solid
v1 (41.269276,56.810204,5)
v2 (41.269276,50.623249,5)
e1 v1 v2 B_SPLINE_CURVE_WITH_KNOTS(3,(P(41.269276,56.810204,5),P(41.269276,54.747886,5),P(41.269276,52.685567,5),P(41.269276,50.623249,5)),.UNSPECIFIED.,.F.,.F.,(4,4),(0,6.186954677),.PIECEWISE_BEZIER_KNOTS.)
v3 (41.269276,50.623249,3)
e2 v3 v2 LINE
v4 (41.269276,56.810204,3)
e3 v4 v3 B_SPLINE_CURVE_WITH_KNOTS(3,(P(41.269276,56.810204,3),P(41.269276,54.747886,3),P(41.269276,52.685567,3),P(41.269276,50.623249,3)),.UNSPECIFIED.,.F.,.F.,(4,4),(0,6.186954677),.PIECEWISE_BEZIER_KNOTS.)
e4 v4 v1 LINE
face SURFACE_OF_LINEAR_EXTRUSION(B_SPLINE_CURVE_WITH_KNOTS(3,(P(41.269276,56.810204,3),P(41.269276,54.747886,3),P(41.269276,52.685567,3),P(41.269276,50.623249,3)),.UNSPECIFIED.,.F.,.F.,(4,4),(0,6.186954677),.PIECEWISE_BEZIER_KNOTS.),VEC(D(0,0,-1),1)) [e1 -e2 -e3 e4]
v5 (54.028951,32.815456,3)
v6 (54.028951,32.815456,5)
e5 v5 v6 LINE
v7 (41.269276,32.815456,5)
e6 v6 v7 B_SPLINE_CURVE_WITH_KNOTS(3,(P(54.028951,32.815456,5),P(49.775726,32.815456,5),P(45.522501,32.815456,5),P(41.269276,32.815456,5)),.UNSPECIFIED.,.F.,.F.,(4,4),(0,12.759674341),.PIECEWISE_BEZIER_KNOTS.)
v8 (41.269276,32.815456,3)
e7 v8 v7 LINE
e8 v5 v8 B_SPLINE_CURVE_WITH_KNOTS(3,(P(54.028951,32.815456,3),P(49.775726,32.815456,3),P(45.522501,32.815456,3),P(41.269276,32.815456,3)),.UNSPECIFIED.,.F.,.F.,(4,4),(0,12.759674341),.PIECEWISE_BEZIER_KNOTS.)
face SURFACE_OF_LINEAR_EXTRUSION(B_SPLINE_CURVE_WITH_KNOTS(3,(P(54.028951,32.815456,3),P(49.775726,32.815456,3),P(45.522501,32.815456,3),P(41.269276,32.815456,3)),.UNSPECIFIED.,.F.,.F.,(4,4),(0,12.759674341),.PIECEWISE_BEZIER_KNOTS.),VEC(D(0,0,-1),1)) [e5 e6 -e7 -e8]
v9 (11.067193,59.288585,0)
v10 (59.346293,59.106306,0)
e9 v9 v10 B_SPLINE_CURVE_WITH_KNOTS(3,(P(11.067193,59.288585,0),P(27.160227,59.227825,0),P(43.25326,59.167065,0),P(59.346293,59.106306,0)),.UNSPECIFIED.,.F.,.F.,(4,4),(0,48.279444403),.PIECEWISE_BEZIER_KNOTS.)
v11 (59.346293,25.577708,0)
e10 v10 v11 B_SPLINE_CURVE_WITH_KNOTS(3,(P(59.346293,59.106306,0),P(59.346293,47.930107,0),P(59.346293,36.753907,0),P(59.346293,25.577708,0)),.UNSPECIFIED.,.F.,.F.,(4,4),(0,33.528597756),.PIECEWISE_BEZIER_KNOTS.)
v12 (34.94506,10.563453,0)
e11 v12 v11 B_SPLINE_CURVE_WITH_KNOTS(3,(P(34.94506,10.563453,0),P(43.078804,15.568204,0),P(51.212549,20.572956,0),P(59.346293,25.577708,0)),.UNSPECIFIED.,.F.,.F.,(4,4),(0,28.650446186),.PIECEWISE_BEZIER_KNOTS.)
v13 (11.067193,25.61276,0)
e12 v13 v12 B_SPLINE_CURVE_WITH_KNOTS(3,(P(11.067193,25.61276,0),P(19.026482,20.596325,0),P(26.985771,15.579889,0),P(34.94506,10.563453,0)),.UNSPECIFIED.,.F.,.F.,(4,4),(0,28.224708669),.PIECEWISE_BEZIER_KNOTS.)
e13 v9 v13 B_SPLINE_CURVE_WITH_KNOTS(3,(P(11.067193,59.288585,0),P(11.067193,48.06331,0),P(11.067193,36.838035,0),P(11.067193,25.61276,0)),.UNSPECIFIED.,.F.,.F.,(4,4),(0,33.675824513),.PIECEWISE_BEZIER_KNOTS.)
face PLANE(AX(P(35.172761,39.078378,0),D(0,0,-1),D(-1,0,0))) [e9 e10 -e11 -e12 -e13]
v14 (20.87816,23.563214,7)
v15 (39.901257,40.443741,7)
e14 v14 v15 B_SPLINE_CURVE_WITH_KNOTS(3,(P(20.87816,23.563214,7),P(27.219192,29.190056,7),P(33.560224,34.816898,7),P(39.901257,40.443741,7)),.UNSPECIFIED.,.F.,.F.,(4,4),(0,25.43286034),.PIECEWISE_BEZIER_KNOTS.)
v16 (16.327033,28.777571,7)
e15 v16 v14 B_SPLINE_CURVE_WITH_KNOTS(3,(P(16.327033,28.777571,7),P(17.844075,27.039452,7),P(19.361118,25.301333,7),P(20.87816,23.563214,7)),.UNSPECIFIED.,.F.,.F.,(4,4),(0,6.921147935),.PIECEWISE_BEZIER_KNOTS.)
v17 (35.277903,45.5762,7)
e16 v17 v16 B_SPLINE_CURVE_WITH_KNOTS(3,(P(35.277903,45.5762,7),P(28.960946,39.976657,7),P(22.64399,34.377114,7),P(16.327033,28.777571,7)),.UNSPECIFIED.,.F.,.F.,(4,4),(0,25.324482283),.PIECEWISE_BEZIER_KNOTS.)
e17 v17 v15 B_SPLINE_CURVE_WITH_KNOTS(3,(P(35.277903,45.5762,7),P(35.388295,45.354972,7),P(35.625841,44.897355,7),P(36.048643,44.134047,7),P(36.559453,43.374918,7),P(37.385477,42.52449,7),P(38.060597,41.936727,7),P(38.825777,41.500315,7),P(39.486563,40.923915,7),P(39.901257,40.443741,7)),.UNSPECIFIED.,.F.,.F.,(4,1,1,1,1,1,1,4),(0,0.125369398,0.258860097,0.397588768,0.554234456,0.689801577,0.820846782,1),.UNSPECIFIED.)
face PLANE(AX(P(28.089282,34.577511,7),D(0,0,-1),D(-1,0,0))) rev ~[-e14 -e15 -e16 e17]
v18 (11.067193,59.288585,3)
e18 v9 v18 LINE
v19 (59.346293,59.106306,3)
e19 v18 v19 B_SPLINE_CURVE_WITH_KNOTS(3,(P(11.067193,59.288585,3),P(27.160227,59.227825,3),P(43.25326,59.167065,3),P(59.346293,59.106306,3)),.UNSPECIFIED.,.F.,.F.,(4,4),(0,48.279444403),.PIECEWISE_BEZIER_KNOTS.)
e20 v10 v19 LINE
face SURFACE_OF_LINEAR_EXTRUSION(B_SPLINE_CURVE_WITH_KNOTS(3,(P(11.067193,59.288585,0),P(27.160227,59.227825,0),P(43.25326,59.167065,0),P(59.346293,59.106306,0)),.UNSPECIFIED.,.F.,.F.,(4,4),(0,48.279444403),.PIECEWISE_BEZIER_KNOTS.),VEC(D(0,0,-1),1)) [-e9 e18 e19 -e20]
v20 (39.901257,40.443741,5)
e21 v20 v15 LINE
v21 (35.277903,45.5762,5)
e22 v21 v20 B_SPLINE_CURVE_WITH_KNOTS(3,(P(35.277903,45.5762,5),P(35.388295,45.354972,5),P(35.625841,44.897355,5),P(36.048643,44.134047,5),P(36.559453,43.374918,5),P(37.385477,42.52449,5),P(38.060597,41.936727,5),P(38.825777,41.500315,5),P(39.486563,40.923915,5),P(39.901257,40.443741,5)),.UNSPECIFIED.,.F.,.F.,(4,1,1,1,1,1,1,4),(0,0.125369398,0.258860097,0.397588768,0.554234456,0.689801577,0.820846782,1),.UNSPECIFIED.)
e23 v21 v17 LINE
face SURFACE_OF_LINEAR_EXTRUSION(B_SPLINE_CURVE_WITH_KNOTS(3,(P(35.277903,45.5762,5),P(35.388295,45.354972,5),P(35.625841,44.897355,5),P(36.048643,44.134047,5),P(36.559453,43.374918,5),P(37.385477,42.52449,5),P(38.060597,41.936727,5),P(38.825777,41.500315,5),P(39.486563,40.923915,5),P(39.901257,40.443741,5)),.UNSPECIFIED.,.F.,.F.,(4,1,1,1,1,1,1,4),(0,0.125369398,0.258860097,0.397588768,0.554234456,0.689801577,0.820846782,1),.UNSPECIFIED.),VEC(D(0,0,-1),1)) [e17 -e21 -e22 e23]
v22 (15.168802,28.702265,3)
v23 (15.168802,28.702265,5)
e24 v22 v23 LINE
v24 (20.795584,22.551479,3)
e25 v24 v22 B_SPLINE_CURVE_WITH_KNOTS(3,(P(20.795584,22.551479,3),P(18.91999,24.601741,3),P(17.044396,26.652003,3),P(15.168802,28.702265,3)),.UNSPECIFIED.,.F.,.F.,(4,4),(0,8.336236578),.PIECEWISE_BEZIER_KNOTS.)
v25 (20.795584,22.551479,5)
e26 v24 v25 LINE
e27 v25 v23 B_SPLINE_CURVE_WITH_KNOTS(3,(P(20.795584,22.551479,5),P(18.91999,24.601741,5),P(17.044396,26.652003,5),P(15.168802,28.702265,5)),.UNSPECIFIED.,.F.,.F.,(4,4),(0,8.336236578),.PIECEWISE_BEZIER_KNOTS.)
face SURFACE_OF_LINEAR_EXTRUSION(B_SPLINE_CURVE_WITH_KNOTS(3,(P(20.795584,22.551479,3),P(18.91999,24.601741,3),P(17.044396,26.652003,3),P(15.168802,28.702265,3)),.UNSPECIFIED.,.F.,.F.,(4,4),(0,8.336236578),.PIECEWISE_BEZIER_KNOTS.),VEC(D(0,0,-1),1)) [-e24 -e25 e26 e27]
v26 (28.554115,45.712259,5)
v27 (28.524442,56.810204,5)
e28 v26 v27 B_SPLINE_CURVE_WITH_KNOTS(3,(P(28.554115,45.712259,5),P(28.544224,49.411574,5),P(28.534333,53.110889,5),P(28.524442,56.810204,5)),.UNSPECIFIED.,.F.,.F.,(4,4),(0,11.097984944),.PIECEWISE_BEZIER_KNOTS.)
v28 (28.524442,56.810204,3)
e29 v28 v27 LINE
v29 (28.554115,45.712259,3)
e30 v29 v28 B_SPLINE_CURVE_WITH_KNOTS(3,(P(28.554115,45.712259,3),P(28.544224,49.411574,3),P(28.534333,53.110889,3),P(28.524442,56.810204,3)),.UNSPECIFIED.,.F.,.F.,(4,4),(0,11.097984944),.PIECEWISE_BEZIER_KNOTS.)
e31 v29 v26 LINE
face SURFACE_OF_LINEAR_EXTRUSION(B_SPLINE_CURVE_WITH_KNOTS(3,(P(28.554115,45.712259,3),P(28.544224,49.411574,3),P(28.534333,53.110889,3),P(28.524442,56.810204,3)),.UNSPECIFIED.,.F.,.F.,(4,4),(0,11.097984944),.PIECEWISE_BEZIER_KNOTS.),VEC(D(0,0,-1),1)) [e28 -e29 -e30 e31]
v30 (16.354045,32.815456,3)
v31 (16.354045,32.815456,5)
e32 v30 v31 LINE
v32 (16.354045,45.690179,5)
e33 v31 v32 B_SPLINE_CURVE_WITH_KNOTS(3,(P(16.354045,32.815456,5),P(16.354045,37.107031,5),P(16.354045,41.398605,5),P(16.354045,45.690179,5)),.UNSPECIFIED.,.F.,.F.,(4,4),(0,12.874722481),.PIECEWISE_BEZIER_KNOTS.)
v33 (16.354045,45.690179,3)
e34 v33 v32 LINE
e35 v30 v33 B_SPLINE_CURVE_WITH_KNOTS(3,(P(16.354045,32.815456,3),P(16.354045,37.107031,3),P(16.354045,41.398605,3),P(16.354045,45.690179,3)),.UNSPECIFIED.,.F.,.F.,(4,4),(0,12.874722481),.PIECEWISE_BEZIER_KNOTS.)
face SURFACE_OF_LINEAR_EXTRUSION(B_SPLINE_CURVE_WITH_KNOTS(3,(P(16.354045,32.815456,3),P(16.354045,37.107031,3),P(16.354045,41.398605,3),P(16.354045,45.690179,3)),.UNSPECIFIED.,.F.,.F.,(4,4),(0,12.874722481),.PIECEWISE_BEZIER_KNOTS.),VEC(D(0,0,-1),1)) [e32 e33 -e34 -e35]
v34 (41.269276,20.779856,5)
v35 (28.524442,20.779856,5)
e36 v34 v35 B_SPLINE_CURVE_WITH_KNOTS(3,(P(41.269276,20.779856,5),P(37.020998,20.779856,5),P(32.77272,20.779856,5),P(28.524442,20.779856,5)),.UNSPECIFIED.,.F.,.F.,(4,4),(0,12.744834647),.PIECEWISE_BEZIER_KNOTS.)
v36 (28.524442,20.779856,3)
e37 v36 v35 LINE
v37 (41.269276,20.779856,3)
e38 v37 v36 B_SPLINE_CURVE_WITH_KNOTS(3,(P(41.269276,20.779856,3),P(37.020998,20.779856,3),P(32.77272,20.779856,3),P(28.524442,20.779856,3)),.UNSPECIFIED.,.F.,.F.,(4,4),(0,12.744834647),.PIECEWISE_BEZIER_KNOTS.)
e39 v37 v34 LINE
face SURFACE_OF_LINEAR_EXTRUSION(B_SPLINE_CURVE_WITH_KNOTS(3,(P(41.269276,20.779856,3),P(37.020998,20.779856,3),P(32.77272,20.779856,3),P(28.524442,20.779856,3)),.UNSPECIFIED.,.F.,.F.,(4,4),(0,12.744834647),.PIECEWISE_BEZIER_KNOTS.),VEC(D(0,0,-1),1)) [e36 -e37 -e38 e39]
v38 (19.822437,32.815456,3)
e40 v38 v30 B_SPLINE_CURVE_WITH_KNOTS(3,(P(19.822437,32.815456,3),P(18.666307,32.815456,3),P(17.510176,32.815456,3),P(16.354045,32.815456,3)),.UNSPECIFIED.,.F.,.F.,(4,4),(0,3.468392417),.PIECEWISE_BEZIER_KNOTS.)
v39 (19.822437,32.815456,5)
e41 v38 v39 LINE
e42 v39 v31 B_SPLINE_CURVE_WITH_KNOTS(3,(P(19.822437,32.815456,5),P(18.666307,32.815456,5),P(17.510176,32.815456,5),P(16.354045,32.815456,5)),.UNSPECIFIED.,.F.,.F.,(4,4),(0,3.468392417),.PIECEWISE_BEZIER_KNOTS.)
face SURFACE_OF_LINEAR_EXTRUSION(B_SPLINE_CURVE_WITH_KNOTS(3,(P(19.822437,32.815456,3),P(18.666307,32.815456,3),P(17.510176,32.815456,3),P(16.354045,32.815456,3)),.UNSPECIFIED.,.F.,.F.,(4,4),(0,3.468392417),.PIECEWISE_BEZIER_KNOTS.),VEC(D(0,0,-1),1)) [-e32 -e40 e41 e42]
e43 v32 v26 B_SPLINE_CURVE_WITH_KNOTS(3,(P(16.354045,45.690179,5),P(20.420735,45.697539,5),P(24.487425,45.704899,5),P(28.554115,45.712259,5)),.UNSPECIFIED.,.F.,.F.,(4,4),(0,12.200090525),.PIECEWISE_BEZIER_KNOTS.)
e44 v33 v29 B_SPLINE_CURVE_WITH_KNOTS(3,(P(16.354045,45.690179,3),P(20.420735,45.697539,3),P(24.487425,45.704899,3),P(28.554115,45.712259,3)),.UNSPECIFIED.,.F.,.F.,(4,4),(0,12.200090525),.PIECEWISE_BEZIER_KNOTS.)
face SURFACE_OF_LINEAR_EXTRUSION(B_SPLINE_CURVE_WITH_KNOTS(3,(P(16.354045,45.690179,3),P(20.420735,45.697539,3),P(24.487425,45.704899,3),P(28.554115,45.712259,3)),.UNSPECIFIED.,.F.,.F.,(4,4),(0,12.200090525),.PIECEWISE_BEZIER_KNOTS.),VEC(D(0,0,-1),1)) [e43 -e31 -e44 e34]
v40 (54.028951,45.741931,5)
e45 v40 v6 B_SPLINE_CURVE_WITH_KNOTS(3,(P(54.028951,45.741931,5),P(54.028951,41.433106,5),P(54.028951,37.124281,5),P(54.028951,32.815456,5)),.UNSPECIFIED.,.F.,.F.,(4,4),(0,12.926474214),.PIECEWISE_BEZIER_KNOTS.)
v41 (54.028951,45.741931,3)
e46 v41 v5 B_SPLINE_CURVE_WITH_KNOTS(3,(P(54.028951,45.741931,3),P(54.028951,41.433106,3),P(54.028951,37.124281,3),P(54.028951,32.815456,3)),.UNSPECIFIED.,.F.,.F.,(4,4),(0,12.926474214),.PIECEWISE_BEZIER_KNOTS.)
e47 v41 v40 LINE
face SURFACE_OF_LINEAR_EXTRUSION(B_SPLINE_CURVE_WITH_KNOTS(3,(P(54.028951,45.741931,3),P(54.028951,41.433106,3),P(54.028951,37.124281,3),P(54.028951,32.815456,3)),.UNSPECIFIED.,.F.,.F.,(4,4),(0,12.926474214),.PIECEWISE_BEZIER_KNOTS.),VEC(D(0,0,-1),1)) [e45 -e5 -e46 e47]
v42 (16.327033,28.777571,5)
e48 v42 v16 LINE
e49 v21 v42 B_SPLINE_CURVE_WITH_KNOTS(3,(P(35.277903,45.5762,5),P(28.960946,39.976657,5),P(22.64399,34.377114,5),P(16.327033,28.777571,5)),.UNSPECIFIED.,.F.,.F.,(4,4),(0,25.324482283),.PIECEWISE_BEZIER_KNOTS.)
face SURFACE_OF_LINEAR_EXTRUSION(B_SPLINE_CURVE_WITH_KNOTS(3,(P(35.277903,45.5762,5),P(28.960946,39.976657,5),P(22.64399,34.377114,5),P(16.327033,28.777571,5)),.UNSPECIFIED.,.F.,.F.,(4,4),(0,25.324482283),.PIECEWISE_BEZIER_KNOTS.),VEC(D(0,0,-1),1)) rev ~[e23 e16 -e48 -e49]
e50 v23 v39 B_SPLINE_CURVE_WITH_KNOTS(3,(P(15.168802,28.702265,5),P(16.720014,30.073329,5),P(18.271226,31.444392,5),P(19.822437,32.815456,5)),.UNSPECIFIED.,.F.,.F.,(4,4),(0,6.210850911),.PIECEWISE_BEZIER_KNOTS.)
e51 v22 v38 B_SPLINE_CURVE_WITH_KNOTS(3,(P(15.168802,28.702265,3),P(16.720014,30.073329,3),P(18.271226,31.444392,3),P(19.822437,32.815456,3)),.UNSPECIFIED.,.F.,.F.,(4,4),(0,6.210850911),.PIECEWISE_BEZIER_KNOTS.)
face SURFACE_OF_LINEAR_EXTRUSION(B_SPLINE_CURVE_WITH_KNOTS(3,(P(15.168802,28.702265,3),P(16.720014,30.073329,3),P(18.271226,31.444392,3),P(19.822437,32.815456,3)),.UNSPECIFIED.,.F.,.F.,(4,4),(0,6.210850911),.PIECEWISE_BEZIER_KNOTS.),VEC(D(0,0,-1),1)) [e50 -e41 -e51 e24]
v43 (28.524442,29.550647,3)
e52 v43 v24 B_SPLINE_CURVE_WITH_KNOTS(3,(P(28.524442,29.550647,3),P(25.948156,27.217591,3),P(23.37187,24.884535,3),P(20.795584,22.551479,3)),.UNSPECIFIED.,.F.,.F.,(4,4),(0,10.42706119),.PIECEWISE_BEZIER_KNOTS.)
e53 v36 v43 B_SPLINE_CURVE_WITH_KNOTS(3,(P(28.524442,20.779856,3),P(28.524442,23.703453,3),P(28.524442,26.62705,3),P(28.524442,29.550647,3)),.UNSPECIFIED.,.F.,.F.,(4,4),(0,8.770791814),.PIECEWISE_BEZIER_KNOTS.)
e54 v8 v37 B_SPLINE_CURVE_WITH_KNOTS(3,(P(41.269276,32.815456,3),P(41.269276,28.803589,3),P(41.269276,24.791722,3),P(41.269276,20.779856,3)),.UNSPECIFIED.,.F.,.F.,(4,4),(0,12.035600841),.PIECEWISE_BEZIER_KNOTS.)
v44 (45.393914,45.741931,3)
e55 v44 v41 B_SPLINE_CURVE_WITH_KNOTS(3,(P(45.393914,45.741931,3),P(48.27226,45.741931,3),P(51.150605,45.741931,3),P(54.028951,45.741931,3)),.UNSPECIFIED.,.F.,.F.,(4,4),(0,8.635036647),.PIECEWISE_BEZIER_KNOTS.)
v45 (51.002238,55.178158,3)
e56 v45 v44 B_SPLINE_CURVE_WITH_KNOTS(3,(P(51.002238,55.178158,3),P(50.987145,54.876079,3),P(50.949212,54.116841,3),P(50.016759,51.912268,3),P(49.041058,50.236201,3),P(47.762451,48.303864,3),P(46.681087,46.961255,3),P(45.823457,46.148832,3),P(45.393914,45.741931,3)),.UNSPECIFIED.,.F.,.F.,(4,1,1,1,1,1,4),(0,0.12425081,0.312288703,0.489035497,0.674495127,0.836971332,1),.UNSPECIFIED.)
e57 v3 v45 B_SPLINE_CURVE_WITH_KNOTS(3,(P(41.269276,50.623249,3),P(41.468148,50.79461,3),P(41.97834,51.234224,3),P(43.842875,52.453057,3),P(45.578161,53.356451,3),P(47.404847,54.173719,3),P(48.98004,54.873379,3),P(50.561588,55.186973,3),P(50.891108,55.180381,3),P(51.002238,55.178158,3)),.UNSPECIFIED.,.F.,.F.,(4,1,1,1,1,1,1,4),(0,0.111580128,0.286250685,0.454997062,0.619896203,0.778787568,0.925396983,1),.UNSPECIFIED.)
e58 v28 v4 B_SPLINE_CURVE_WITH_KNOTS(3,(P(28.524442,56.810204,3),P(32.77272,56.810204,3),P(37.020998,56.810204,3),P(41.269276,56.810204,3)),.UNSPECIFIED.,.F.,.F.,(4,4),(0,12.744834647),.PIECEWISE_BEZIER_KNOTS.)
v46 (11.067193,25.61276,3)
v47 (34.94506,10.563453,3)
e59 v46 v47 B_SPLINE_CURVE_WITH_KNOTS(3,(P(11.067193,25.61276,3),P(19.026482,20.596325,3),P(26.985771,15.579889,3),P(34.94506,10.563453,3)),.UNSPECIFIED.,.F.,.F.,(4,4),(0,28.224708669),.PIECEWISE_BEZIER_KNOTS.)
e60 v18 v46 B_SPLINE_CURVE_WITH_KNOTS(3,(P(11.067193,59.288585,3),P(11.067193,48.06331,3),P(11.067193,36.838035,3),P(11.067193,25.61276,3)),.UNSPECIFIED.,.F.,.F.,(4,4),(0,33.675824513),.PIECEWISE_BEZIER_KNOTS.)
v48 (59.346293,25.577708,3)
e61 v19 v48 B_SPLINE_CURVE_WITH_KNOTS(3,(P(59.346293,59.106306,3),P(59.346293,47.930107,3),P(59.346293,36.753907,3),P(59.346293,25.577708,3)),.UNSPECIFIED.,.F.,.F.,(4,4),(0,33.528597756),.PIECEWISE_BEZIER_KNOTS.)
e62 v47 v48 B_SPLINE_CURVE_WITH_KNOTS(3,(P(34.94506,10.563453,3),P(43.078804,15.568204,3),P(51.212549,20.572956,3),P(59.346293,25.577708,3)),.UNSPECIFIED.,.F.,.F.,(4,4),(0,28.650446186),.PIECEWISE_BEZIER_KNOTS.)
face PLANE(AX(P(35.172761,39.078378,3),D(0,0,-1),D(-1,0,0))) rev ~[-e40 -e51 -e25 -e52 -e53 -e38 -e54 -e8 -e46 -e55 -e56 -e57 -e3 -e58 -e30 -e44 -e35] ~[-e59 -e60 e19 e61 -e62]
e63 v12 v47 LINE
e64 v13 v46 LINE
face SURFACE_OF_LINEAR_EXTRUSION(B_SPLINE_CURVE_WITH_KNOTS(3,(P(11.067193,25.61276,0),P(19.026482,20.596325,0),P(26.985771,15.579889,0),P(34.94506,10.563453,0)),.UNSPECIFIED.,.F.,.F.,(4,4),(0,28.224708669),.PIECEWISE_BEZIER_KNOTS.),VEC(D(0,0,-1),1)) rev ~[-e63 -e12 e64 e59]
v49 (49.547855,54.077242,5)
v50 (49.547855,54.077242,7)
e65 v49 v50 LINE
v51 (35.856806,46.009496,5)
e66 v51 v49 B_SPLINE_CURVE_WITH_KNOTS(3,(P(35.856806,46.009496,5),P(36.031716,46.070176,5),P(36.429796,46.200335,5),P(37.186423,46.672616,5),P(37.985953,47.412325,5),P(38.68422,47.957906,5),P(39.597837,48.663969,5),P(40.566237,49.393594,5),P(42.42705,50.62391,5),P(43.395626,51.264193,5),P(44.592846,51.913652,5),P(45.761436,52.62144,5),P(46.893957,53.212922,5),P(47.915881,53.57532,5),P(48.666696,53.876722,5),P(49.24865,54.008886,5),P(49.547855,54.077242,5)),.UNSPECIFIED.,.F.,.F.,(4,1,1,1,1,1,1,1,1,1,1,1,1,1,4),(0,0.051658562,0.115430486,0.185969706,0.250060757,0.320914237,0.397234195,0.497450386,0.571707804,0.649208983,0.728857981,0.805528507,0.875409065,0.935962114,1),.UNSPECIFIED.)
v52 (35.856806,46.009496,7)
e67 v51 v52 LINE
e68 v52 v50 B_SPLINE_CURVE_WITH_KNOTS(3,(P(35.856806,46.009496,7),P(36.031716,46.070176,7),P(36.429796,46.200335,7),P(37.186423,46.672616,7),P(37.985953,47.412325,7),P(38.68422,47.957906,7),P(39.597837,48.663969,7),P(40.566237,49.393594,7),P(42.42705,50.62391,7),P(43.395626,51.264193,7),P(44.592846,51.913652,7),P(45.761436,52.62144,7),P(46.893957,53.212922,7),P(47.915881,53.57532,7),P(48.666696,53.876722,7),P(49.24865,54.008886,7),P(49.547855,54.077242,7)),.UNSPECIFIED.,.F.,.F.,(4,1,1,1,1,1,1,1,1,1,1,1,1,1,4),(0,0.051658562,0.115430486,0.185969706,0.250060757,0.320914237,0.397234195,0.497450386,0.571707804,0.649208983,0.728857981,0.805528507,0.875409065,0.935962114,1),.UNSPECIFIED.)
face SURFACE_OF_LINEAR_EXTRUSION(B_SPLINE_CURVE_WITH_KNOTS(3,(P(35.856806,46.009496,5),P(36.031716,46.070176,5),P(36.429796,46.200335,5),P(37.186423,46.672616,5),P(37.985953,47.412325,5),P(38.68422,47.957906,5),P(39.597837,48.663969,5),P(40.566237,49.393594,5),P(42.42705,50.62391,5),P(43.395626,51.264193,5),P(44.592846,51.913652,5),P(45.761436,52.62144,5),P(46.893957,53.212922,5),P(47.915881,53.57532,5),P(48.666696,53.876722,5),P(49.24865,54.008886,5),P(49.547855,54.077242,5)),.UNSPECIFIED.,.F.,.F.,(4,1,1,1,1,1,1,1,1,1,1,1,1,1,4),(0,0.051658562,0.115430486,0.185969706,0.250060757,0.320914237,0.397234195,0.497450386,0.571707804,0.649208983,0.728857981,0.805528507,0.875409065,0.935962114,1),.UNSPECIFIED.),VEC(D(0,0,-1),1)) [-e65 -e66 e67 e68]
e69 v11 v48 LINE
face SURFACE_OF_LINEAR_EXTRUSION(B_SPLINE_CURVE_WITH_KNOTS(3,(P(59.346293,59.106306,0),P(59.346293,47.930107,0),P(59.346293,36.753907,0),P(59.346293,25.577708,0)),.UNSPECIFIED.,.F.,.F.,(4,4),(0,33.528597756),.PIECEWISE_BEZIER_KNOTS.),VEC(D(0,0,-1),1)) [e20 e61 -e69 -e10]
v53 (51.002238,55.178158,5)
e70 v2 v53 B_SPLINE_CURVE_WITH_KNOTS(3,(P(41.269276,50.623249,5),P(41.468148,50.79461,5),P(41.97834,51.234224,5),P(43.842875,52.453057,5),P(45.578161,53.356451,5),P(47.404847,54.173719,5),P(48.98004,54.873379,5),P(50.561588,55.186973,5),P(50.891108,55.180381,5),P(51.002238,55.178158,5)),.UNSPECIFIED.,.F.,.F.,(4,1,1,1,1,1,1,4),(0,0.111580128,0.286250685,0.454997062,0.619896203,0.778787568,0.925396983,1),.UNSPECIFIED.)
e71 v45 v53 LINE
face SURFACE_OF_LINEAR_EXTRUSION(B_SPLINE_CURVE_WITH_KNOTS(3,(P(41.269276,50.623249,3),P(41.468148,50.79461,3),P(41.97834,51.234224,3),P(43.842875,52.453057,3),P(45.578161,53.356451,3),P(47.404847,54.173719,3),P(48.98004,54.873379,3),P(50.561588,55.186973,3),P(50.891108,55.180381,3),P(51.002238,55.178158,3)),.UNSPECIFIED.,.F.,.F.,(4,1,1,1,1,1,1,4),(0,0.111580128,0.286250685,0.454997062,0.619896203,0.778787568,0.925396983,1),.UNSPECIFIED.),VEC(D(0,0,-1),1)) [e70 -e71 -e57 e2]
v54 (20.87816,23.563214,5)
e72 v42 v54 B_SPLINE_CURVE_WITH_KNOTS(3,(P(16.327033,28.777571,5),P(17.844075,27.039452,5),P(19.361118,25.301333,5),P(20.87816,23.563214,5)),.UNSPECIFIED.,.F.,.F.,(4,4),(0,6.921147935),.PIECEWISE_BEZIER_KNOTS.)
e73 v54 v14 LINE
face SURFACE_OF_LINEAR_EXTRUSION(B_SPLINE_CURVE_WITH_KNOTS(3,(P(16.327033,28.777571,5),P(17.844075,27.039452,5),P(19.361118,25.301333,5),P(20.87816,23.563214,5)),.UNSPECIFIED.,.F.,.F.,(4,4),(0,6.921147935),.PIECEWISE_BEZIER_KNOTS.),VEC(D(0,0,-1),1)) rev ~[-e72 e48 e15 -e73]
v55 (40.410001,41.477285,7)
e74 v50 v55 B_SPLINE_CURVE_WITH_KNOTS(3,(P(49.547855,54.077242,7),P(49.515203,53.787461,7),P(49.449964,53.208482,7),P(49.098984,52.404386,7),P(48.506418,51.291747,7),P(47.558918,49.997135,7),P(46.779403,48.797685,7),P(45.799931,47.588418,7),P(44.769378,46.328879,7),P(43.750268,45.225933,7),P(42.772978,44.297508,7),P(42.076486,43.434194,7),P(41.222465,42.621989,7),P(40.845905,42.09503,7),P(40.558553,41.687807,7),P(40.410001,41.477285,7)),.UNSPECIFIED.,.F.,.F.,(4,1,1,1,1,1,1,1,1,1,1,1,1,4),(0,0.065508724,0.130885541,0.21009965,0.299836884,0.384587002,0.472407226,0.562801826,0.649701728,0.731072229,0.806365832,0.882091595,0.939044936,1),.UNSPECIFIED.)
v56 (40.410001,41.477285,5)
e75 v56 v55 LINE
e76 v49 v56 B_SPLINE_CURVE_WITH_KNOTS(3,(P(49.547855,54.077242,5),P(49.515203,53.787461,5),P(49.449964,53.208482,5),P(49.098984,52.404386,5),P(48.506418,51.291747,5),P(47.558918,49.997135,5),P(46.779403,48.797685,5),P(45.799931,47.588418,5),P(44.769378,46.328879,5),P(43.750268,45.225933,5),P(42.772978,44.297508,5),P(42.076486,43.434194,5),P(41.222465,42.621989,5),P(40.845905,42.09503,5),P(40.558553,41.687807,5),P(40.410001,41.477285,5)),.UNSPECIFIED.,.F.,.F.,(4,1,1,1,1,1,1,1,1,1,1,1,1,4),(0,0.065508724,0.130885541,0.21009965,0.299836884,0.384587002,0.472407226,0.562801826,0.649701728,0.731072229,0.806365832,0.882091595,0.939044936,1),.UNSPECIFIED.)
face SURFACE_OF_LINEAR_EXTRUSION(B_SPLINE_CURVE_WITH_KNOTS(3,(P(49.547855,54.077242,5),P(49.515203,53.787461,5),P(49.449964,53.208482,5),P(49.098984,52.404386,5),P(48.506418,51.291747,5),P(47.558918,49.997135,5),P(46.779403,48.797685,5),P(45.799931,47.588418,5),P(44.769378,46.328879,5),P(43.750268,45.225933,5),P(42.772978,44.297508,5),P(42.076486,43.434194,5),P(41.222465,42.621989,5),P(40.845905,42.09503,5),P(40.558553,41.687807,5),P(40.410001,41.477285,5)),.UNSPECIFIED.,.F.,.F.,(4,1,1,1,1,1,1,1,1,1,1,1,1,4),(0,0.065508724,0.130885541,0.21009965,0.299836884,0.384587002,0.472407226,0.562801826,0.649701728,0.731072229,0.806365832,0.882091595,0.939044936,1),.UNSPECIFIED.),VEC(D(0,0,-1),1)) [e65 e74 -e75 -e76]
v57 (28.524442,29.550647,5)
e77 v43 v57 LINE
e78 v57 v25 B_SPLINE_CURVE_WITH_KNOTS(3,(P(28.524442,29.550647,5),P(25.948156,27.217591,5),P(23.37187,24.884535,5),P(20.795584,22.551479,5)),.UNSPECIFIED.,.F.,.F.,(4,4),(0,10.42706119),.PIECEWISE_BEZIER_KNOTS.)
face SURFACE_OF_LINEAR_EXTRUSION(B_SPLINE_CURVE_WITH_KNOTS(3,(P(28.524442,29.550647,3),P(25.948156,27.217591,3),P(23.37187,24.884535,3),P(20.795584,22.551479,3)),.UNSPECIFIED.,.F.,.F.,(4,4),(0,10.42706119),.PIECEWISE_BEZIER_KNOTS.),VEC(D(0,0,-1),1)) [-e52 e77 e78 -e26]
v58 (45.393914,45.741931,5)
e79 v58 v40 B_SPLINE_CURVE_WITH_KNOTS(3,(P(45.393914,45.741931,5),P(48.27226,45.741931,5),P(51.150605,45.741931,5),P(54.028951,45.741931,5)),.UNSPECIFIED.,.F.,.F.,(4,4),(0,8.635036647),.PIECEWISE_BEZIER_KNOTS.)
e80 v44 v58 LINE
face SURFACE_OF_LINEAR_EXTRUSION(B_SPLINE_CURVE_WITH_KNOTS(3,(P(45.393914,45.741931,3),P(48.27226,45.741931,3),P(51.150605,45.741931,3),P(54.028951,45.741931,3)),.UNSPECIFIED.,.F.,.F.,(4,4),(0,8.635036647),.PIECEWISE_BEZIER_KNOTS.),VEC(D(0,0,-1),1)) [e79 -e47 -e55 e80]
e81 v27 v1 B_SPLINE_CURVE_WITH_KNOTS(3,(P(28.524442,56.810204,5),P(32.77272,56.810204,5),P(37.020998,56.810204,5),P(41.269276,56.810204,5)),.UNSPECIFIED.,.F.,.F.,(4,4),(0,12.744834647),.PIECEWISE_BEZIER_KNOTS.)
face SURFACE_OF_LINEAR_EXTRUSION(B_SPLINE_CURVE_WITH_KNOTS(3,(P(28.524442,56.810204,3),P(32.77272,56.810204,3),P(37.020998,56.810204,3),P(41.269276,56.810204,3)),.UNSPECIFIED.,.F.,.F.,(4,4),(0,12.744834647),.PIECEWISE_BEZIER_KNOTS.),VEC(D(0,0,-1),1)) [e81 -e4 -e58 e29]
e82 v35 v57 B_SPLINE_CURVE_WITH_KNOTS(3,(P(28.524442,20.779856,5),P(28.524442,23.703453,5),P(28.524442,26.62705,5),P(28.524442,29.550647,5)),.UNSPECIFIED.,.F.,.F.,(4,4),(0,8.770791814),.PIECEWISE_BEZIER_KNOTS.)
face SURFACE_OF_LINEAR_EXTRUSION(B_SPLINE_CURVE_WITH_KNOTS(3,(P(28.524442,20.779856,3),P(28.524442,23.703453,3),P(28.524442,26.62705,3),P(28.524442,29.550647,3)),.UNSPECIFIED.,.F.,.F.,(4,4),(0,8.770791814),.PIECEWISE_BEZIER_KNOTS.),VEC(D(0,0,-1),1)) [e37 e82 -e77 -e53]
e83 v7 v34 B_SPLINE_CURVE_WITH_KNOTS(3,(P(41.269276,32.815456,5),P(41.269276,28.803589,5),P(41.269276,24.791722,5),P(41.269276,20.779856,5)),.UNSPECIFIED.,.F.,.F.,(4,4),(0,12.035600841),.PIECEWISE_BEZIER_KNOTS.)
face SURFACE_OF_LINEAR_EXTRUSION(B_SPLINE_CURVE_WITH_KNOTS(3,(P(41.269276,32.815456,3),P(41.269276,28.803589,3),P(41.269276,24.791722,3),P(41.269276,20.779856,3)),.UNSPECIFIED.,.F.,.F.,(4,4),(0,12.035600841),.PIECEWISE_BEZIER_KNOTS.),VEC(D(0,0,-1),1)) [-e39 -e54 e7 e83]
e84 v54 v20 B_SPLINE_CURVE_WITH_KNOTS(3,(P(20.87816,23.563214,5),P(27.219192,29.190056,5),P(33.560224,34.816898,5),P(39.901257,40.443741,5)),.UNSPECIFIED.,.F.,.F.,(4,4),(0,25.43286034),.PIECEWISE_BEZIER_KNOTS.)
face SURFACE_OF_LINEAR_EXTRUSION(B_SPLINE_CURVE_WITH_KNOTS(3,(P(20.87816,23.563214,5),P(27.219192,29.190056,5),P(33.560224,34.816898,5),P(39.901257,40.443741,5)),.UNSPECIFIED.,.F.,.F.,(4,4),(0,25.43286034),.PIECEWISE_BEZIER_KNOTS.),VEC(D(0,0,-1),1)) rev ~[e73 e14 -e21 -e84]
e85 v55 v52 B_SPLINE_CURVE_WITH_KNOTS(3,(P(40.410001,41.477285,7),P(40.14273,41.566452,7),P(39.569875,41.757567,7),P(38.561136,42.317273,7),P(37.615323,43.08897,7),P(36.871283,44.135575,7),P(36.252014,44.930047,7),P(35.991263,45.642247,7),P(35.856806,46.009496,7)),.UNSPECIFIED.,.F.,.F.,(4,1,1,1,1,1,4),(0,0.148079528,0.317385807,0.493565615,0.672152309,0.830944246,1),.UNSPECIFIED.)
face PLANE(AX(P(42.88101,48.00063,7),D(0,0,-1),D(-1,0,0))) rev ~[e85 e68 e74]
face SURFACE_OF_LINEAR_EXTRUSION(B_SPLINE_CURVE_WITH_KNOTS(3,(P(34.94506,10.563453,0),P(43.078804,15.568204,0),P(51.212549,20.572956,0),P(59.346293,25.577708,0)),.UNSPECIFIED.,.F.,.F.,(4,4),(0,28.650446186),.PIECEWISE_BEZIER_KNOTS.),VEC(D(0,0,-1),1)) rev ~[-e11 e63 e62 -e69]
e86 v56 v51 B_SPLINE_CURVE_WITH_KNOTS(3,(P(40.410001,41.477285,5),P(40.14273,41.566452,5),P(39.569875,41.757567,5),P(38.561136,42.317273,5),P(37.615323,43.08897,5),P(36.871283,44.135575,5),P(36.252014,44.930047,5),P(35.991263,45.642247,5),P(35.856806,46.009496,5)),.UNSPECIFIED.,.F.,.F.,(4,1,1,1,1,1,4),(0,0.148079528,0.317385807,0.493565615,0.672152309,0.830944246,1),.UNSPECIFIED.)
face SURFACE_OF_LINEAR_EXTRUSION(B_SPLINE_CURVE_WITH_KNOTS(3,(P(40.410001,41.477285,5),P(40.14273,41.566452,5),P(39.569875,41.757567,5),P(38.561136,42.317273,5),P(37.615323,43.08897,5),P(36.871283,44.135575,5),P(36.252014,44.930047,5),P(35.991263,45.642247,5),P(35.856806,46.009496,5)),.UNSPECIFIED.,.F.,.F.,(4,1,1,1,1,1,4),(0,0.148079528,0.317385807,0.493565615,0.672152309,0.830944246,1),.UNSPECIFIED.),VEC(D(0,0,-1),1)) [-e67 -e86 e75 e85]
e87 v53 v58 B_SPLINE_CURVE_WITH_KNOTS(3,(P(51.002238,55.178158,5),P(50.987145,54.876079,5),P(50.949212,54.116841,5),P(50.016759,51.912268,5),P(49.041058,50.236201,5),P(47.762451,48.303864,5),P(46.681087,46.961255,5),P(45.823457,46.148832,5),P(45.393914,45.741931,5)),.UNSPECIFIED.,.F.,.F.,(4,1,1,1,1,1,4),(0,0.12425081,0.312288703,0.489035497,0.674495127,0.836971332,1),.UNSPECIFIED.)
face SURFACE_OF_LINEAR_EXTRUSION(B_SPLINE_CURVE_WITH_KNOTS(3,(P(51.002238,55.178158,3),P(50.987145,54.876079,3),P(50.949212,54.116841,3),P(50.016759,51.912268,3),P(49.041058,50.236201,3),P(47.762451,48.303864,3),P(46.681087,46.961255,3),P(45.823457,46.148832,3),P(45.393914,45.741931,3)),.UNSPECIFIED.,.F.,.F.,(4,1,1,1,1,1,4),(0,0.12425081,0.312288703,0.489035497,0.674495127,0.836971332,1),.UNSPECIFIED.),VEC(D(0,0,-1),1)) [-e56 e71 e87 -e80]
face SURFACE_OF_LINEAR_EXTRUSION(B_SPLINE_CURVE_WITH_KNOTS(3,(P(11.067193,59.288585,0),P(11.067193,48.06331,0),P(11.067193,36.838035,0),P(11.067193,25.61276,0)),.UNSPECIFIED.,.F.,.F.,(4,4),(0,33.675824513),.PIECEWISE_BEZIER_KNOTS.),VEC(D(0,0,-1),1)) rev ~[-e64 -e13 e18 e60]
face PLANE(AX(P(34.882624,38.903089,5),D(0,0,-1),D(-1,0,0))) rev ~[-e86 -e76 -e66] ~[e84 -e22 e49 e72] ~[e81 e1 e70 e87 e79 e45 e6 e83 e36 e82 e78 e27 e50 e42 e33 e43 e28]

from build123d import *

# Parameters (mm, degrees)
F1_DEPTH = 3
F3_DEPTH = 2
F5_DEPTH = 2


with BuildPart() as f1:
    # F0 (on Top) → F1 (new body)
    with BuildSketch(Plane.XY):
        with BuildLine():
            add(Edge.make_bspline(
                [(11.0671931449, 59.2885849332), (27.1602265797, 59.2278252135), (43.2532600144, 59.1670654938), (59.3462934492, 59.106305774)],
                knots=[0, 0, 0, 0, 48.2794444032, 48.2794444032, 48.2794444032, 48.2794444032], degree=3))
            add(Edge.make_bspline(
                [(11.0671931449, 59.2885849332), (11.0671931449, 48.0633100955), (11.0671931449, 36.8380352577), (11.0671931449, 25.61276042)],
                knots=[0, 0, 0, 0, 33.6758245133, 33.6758245133, 33.6758245133, 33.6758245133], degree=3))
            add(Edge.make_bspline(
                [(11.0671931449, 25.61276042), (19.0264820309, 20.5963245083), (26.9857709169, 15.5798885967), (34.9450598029, 10.563452685)],
                knots=[0, 0, 0, 0, 28.2247086688, 28.2247086688, 28.2247086688, 28.2247086688], degree=3))
            add(Edge.make_bspline(
                [(34.9450598029, 10.563452685), (43.0788043517, 15.5682044628), (51.2125489004, 20.5729562405), (59.3462934492, 25.5777080183)],
                knots=[0, 0, 0, 0, 28.6504461864, 28.6504461864, 28.6504461864, 28.6504461864], degree=3))
            add(Edge.make_bspline(
                [(59.3462934492, 59.106305774), (59.3462934492, 47.9301065221), (59.3462934492, 36.7539072702), (59.3462934492, 25.5777080183)],
                knots=[0, 0, 0, 0, 33.5285977557, 33.5285977557, 33.5285977557, 33.5285977557], degree=3))
        make_face()
    extrude(amount=F1_DEPTH)

    # F2 (on face) → F3 (join)
    with BuildSketch(Plane.XY.offset(3)):
        with BuildLine():
            add(Edge.make_bspline(
                [(28.5541154444, 45.7122586668), (28.5442241778, 49.4115737577), (28.5343329112, 53.1108888487), (28.5244416445, 56.8102039397)],
                knots=[0, 0, 0, 0, 11.0979849439, 11.0979849439, 11.0979849439, 11.0979849439], degree=3))
            add(Edge.make_bspline(
                [(16.3540448993, 45.6901788712), (20.420735081, 45.697538803), (24.4874252627, 45.7048987349), (28.5541154444, 45.7122586668)],
                knots=[0, 0, 0, 0, 12.2000905252, 12.2000905252, 12.2000905252, 12.2000905252], degree=3))
            add(Edge.make_bspline(
                [(16.3540448993, 32.8154563904), (16.3540448993, 37.1070305506), (16.3540448993, 41.3986047109), (16.3540448993, 45.6901788712)],
                knots=[0, 0, 0, 0, 12.8747224808, 12.8747224808, 12.8747224808, 12.8747224808], degree=3))
            add(Edge.make_bspline(
                [(19.8224373162, 32.8154563904), (18.6663065106, 32.8154563904), (17.510175705, 32.8154563904), (16.3540448993, 32.8154563904)],
                knots=[0, 0, 0, 0, 3.4683924168, 3.4683924168, 3.4683924168, 3.4683924168], degree=3))
            add(Edge.make_bspline(
                [(15.1688018814, 28.7022646517), (16.720013693, 30.0733285646), (18.2712255046, 31.4443924775), (19.8224373162, 32.8154563904)],
                knots=[0, 0, 0, 0, 6.2108509111, 6.2108509111, 6.2108509111, 6.2108509111], degree=3))
            add(Edge.make_bspline(
                [(20.795583725, 22.5514788181), (18.9199897771, 24.6017407626), (17.0443958292, 26.6520027071), (15.1688018814, 28.7022646517)],
                knots=[0, 0, 0, 0, 8.3362365781, 8.3362365781, 8.3362365781, 8.3362365781], degree=3))
            add(Edge.make_bspline(
                [(28.5244416445, 29.5506473631), (25.9481556714, 27.2175911814), (23.3718696982, 24.8845349997), (20.795583725, 22.5514788181)],
                knots=[0, 0, 0, 0, 10.4270611901, 10.4270611901, 10.4270611901, 10.4270611901], degree=3))
            add(Edge.make_bspline(
                [(28.5244416445, 20.7798555493), (28.5244416445, 23.7034528206), (28.5244416445, 26.6270500918), (28.5244416445, 29.5506473631)],
                knots=[0, 0, 0, 0, 8.7707918137, 8.7707918137, 8.7707918137, 8.7707918137], degree=3))
            add(Edge.make_bspline(
                [(41.2692762911, 20.7798555493), (37.0209980756, 20.7798555493), (32.7727198601, 20.7798555493), (28.5244416445, 20.7798555493)],
                knots=[0, 0, 0, 0, 12.7448346466, 12.7448346466, 12.7448346466, 12.7448346466], degree=3))
            add(Edge.make_bspline(
                [(41.2692762911, 32.8154563904), (41.2692762911, 28.8035894434), (41.2692762911, 24.7917224964), (41.2692762911, 20.7798555493)],
                knots=[0, 0, 0, 0, 12.035600841, 12.035600841, 12.035600841, 12.035600841], degree=3))
            add(Edge.make_bspline(
                [(54.0289506316, 32.8154563904), (49.7757258515, 32.8154563904), (45.5225010713, 32.8154563904), (41.2692762911, 32.8154563904)],
                knots=[0, 0, 0, 0, 12.7596743405, 12.7596743405, 12.7596743405, 12.7596743405], degree=3))
            add(Edge.make_bspline(
                [(54.0289506316, 45.741930604), (54.0289506316, 41.4331058661), (54.0289506316, 37.1242811282), (54.0289506316, 32.8154563904)],
                knots=[0, 0, 0, 0, 12.9264742136, 12.9264742136, 12.9264742136, 12.9264742136], degree=3))
            add(Edge.make_bspline(
                [(45.3939139843, 45.741930604), (48.2722595334, 45.741930604), (51.1506050825, 45.741930604), (54.0289506316, 45.741930604)],
                knots=[0, 0, 0, 0, 8.6350366473, 8.6350366473, 8.6350366473, 8.6350366473], degree=3))
            add(Edge.make_bspline(
                [(51.0022379458, 55.1781579852), (50.9871454202, 54.8760789501), (50.9492122653, 54.1168414871), (50.0167587141, 51.9122681359), (49.0410576538, 50.2362012588), (47.7624509616, 48.3038639045), (46.6810870919, 46.9612553645), (45.8234568907, 46.148831819), (45.3939139843, 45.741930604)],
                knots=[0, 0, 0, 0, 0.1242508102, 0.3122887025, 0.4890354969, 0.6744951269, 0.8369713321, 1, 1, 1, 1], degree=3))
            add(Edge.make_bspline(
                [(41.2692762911, 50.6232492626), (41.4681483995, 50.7946102801), (41.978340298, 51.2342244804), (43.8428750945, 52.4530570659), (45.578161279, 53.3564511541), (47.4048472329, 54.1737185126), (48.9800400423, 54.873378879), (50.5615877202, 55.1869726946), (50.8911084003, 55.1803810061), (51.0022379458, 55.1781579852)],
                knots=[0, 0, 0, 0, 0.1115801276, 0.2862506845, 0.4549970621, 0.6198962034, 0.7787875681, 0.9253969827, 1, 1, 1, 1], degree=3))
            add(Edge.make_bspline(
                [(41.2692762911, 56.8102039397), (41.2692762911, 54.747885714), (41.2692762911, 52.6855674883), (41.2692762911, 50.6232492626)],
                knots=[0, 0, 0, 0, 6.1869546771, 6.1869546771, 6.1869546771, 6.1869546771], degree=3))
            add(Edge.make_bspline(
                [(28.5244416445, 56.8102039397), (32.7727198601, 56.8102039397), (37.0209980756, 56.8102039397), (41.2692762911, 56.8102039397)],
                knots=[0, 0, 0, 0, 12.7448346466, 12.7448346466, 12.7448346466, 12.7448346466], degree=3))
        make_face()
    extrude(amount=F3_DEPTH)

    # F4 (on face) → F5 (join)
    with BuildSketch(Plane.XY.offset(5)):
        with BuildLine():
            add(Edge.make_bspline(
                [(35.8568057418, 46.0094958544), (36.0317157188, 46.0701763186), (36.4297957335, 46.2003354626), (37.1864233034, 46.6726155181), (37.9859530046, 47.4123252193), (38.684220276, 47.9579062137), (39.5978366881, 48.6639690688), (40.5662368593, 49.3935938732), (42.4270495168, 50.6239095496), (43.3956261519, 51.2641930678), (44.5928458585, 51.9136521572), (45.7614362272, 52.6214397624), (46.8939566816, 53.2129220638), (47.9158808974, 53.5753203598), (48.6666958305, 53.8767219281), (49.2486495268, 54.0088859734), (49.547854811, 54.0772415698)],
                knots=[0, 0, 0, 0, 0.0516585621, 0.1154304858, 0.1859697061, 0.2500607567, 0.3209142372, 0.3972341946, 0.4974503857, 0.5717078044, 0.6492089827, 0.7288579814, 0.8055285067, 0.875409065, 0.9359621135, 1, 1, 1, 1], degree=3))
            add(Edge.make_bspline(
                [(40.4100008309, 41.4772853255), (40.1427297174, 41.566451955), (39.5698749881, 41.7575669795), (38.5611360167, 42.3172730775), (37.6153225158, 43.08896958), (36.8712828684, 44.1355753724), (36.2520137722, 44.9300470977), (35.9912628327, 45.6422473966), (35.8568057418, 46.0094958544)],
                knots=[0, 0, 0, 0, 0.1480795284, 0.3173858074, 0.4935656147, 0.672152309, 0.8309442455, 1, 1, 1, 1], degree=3))
            add(Edge.make_bspline(
                [(49.547854811, 54.0772415698), (49.5152026803, 53.7874605081), (49.4499641664, 53.2084818803), (49.0989835668, 52.4043858786), (48.5064178832, 51.2917469226), (47.5589183385, 49.9971352805), (46.7794034559, 48.7976853557), (45.7999311462, 47.5884183596), (44.7693780121, 46.3288788388), (43.750268148, 45.2259326502), (42.7729784172, 44.2975083271), (42.0764861952, 43.4341941921), (41.2224654547, 42.6219891367), (40.8459045869, 42.0950296588), (40.5585529156, 41.6878070457), (40.4100008309, 41.4772853255)],
                knots=[0, 0, 0, 0, 0.0655087235, 0.1308855405, 0.2100996498, 0.2998368838, 0.3845870022, 0.4724072264, 0.5628018265, 0.6497017278, 0.7310722295, 0.8063658322, 0.8820915946, 0.9390449363, 1, 1, 1, 1], degree=3))
        make_face()
        with BuildLine():
            add(Edge.make_bspline(
                [(35.27790308, 45.5761998892), (35.3882946215, 45.3549721851), (35.6258414072, 44.8973547708), (36.0486432773, 44.1340473188), (36.5594531624, 43.374918294), (37.3854774785, 42.5244904822), (38.0605965058, 41.9367271606), (38.8257774231, 41.5003145811), (39.4865628498, 40.9239153063), (39.9012565613, 40.4437407851)],
                knots=[0, 0, 0, 0, 0.1253693984, 0.2588600966, 0.3975887681, 0.5542344561, 0.6898015766, 0.8208467818, 1, 1, 1, 1], degree=3))
            add(Edge.make_bspline(
                [(35.27790308, 45.5761998892), (28.9609463265, 39.9766570578), (22.6439895729, 34.3771142264), (16.3270328194, 28.777571395)],
                knots=[0, 0, 0, 0, 25.3244822833, 25.3244822833, 25.3244822833, 25.3244822833], degree=3))
            add(Edge.make_bspline(
                [(16.3270328194, 28.777571395), (17.8440753371, 27.0394521455), (19.3611178547, 25.301332896), (20.8781603724, 23.5632136464)],
                knots=[0, 0, 0, 0, 6.9211479347, 6.9211479347, 6.9211479347, 6.9211479347], degree=3))
            add(Edge.make_bspline(
                [(20.8781603724, 23.5632136464), (27.2191924353, 29.190056026), (33.5602244983, 34.8168984056), (39.9012565613, 40.4437407851)],
                knots=[0, 0, 0, 0, 25.4328603404, 25.4328603404, 25.4328603404, 25.4328603404], degree=3))
        make_face()
    extrude(amount=F5_DEPTH)


solid = f1.part
